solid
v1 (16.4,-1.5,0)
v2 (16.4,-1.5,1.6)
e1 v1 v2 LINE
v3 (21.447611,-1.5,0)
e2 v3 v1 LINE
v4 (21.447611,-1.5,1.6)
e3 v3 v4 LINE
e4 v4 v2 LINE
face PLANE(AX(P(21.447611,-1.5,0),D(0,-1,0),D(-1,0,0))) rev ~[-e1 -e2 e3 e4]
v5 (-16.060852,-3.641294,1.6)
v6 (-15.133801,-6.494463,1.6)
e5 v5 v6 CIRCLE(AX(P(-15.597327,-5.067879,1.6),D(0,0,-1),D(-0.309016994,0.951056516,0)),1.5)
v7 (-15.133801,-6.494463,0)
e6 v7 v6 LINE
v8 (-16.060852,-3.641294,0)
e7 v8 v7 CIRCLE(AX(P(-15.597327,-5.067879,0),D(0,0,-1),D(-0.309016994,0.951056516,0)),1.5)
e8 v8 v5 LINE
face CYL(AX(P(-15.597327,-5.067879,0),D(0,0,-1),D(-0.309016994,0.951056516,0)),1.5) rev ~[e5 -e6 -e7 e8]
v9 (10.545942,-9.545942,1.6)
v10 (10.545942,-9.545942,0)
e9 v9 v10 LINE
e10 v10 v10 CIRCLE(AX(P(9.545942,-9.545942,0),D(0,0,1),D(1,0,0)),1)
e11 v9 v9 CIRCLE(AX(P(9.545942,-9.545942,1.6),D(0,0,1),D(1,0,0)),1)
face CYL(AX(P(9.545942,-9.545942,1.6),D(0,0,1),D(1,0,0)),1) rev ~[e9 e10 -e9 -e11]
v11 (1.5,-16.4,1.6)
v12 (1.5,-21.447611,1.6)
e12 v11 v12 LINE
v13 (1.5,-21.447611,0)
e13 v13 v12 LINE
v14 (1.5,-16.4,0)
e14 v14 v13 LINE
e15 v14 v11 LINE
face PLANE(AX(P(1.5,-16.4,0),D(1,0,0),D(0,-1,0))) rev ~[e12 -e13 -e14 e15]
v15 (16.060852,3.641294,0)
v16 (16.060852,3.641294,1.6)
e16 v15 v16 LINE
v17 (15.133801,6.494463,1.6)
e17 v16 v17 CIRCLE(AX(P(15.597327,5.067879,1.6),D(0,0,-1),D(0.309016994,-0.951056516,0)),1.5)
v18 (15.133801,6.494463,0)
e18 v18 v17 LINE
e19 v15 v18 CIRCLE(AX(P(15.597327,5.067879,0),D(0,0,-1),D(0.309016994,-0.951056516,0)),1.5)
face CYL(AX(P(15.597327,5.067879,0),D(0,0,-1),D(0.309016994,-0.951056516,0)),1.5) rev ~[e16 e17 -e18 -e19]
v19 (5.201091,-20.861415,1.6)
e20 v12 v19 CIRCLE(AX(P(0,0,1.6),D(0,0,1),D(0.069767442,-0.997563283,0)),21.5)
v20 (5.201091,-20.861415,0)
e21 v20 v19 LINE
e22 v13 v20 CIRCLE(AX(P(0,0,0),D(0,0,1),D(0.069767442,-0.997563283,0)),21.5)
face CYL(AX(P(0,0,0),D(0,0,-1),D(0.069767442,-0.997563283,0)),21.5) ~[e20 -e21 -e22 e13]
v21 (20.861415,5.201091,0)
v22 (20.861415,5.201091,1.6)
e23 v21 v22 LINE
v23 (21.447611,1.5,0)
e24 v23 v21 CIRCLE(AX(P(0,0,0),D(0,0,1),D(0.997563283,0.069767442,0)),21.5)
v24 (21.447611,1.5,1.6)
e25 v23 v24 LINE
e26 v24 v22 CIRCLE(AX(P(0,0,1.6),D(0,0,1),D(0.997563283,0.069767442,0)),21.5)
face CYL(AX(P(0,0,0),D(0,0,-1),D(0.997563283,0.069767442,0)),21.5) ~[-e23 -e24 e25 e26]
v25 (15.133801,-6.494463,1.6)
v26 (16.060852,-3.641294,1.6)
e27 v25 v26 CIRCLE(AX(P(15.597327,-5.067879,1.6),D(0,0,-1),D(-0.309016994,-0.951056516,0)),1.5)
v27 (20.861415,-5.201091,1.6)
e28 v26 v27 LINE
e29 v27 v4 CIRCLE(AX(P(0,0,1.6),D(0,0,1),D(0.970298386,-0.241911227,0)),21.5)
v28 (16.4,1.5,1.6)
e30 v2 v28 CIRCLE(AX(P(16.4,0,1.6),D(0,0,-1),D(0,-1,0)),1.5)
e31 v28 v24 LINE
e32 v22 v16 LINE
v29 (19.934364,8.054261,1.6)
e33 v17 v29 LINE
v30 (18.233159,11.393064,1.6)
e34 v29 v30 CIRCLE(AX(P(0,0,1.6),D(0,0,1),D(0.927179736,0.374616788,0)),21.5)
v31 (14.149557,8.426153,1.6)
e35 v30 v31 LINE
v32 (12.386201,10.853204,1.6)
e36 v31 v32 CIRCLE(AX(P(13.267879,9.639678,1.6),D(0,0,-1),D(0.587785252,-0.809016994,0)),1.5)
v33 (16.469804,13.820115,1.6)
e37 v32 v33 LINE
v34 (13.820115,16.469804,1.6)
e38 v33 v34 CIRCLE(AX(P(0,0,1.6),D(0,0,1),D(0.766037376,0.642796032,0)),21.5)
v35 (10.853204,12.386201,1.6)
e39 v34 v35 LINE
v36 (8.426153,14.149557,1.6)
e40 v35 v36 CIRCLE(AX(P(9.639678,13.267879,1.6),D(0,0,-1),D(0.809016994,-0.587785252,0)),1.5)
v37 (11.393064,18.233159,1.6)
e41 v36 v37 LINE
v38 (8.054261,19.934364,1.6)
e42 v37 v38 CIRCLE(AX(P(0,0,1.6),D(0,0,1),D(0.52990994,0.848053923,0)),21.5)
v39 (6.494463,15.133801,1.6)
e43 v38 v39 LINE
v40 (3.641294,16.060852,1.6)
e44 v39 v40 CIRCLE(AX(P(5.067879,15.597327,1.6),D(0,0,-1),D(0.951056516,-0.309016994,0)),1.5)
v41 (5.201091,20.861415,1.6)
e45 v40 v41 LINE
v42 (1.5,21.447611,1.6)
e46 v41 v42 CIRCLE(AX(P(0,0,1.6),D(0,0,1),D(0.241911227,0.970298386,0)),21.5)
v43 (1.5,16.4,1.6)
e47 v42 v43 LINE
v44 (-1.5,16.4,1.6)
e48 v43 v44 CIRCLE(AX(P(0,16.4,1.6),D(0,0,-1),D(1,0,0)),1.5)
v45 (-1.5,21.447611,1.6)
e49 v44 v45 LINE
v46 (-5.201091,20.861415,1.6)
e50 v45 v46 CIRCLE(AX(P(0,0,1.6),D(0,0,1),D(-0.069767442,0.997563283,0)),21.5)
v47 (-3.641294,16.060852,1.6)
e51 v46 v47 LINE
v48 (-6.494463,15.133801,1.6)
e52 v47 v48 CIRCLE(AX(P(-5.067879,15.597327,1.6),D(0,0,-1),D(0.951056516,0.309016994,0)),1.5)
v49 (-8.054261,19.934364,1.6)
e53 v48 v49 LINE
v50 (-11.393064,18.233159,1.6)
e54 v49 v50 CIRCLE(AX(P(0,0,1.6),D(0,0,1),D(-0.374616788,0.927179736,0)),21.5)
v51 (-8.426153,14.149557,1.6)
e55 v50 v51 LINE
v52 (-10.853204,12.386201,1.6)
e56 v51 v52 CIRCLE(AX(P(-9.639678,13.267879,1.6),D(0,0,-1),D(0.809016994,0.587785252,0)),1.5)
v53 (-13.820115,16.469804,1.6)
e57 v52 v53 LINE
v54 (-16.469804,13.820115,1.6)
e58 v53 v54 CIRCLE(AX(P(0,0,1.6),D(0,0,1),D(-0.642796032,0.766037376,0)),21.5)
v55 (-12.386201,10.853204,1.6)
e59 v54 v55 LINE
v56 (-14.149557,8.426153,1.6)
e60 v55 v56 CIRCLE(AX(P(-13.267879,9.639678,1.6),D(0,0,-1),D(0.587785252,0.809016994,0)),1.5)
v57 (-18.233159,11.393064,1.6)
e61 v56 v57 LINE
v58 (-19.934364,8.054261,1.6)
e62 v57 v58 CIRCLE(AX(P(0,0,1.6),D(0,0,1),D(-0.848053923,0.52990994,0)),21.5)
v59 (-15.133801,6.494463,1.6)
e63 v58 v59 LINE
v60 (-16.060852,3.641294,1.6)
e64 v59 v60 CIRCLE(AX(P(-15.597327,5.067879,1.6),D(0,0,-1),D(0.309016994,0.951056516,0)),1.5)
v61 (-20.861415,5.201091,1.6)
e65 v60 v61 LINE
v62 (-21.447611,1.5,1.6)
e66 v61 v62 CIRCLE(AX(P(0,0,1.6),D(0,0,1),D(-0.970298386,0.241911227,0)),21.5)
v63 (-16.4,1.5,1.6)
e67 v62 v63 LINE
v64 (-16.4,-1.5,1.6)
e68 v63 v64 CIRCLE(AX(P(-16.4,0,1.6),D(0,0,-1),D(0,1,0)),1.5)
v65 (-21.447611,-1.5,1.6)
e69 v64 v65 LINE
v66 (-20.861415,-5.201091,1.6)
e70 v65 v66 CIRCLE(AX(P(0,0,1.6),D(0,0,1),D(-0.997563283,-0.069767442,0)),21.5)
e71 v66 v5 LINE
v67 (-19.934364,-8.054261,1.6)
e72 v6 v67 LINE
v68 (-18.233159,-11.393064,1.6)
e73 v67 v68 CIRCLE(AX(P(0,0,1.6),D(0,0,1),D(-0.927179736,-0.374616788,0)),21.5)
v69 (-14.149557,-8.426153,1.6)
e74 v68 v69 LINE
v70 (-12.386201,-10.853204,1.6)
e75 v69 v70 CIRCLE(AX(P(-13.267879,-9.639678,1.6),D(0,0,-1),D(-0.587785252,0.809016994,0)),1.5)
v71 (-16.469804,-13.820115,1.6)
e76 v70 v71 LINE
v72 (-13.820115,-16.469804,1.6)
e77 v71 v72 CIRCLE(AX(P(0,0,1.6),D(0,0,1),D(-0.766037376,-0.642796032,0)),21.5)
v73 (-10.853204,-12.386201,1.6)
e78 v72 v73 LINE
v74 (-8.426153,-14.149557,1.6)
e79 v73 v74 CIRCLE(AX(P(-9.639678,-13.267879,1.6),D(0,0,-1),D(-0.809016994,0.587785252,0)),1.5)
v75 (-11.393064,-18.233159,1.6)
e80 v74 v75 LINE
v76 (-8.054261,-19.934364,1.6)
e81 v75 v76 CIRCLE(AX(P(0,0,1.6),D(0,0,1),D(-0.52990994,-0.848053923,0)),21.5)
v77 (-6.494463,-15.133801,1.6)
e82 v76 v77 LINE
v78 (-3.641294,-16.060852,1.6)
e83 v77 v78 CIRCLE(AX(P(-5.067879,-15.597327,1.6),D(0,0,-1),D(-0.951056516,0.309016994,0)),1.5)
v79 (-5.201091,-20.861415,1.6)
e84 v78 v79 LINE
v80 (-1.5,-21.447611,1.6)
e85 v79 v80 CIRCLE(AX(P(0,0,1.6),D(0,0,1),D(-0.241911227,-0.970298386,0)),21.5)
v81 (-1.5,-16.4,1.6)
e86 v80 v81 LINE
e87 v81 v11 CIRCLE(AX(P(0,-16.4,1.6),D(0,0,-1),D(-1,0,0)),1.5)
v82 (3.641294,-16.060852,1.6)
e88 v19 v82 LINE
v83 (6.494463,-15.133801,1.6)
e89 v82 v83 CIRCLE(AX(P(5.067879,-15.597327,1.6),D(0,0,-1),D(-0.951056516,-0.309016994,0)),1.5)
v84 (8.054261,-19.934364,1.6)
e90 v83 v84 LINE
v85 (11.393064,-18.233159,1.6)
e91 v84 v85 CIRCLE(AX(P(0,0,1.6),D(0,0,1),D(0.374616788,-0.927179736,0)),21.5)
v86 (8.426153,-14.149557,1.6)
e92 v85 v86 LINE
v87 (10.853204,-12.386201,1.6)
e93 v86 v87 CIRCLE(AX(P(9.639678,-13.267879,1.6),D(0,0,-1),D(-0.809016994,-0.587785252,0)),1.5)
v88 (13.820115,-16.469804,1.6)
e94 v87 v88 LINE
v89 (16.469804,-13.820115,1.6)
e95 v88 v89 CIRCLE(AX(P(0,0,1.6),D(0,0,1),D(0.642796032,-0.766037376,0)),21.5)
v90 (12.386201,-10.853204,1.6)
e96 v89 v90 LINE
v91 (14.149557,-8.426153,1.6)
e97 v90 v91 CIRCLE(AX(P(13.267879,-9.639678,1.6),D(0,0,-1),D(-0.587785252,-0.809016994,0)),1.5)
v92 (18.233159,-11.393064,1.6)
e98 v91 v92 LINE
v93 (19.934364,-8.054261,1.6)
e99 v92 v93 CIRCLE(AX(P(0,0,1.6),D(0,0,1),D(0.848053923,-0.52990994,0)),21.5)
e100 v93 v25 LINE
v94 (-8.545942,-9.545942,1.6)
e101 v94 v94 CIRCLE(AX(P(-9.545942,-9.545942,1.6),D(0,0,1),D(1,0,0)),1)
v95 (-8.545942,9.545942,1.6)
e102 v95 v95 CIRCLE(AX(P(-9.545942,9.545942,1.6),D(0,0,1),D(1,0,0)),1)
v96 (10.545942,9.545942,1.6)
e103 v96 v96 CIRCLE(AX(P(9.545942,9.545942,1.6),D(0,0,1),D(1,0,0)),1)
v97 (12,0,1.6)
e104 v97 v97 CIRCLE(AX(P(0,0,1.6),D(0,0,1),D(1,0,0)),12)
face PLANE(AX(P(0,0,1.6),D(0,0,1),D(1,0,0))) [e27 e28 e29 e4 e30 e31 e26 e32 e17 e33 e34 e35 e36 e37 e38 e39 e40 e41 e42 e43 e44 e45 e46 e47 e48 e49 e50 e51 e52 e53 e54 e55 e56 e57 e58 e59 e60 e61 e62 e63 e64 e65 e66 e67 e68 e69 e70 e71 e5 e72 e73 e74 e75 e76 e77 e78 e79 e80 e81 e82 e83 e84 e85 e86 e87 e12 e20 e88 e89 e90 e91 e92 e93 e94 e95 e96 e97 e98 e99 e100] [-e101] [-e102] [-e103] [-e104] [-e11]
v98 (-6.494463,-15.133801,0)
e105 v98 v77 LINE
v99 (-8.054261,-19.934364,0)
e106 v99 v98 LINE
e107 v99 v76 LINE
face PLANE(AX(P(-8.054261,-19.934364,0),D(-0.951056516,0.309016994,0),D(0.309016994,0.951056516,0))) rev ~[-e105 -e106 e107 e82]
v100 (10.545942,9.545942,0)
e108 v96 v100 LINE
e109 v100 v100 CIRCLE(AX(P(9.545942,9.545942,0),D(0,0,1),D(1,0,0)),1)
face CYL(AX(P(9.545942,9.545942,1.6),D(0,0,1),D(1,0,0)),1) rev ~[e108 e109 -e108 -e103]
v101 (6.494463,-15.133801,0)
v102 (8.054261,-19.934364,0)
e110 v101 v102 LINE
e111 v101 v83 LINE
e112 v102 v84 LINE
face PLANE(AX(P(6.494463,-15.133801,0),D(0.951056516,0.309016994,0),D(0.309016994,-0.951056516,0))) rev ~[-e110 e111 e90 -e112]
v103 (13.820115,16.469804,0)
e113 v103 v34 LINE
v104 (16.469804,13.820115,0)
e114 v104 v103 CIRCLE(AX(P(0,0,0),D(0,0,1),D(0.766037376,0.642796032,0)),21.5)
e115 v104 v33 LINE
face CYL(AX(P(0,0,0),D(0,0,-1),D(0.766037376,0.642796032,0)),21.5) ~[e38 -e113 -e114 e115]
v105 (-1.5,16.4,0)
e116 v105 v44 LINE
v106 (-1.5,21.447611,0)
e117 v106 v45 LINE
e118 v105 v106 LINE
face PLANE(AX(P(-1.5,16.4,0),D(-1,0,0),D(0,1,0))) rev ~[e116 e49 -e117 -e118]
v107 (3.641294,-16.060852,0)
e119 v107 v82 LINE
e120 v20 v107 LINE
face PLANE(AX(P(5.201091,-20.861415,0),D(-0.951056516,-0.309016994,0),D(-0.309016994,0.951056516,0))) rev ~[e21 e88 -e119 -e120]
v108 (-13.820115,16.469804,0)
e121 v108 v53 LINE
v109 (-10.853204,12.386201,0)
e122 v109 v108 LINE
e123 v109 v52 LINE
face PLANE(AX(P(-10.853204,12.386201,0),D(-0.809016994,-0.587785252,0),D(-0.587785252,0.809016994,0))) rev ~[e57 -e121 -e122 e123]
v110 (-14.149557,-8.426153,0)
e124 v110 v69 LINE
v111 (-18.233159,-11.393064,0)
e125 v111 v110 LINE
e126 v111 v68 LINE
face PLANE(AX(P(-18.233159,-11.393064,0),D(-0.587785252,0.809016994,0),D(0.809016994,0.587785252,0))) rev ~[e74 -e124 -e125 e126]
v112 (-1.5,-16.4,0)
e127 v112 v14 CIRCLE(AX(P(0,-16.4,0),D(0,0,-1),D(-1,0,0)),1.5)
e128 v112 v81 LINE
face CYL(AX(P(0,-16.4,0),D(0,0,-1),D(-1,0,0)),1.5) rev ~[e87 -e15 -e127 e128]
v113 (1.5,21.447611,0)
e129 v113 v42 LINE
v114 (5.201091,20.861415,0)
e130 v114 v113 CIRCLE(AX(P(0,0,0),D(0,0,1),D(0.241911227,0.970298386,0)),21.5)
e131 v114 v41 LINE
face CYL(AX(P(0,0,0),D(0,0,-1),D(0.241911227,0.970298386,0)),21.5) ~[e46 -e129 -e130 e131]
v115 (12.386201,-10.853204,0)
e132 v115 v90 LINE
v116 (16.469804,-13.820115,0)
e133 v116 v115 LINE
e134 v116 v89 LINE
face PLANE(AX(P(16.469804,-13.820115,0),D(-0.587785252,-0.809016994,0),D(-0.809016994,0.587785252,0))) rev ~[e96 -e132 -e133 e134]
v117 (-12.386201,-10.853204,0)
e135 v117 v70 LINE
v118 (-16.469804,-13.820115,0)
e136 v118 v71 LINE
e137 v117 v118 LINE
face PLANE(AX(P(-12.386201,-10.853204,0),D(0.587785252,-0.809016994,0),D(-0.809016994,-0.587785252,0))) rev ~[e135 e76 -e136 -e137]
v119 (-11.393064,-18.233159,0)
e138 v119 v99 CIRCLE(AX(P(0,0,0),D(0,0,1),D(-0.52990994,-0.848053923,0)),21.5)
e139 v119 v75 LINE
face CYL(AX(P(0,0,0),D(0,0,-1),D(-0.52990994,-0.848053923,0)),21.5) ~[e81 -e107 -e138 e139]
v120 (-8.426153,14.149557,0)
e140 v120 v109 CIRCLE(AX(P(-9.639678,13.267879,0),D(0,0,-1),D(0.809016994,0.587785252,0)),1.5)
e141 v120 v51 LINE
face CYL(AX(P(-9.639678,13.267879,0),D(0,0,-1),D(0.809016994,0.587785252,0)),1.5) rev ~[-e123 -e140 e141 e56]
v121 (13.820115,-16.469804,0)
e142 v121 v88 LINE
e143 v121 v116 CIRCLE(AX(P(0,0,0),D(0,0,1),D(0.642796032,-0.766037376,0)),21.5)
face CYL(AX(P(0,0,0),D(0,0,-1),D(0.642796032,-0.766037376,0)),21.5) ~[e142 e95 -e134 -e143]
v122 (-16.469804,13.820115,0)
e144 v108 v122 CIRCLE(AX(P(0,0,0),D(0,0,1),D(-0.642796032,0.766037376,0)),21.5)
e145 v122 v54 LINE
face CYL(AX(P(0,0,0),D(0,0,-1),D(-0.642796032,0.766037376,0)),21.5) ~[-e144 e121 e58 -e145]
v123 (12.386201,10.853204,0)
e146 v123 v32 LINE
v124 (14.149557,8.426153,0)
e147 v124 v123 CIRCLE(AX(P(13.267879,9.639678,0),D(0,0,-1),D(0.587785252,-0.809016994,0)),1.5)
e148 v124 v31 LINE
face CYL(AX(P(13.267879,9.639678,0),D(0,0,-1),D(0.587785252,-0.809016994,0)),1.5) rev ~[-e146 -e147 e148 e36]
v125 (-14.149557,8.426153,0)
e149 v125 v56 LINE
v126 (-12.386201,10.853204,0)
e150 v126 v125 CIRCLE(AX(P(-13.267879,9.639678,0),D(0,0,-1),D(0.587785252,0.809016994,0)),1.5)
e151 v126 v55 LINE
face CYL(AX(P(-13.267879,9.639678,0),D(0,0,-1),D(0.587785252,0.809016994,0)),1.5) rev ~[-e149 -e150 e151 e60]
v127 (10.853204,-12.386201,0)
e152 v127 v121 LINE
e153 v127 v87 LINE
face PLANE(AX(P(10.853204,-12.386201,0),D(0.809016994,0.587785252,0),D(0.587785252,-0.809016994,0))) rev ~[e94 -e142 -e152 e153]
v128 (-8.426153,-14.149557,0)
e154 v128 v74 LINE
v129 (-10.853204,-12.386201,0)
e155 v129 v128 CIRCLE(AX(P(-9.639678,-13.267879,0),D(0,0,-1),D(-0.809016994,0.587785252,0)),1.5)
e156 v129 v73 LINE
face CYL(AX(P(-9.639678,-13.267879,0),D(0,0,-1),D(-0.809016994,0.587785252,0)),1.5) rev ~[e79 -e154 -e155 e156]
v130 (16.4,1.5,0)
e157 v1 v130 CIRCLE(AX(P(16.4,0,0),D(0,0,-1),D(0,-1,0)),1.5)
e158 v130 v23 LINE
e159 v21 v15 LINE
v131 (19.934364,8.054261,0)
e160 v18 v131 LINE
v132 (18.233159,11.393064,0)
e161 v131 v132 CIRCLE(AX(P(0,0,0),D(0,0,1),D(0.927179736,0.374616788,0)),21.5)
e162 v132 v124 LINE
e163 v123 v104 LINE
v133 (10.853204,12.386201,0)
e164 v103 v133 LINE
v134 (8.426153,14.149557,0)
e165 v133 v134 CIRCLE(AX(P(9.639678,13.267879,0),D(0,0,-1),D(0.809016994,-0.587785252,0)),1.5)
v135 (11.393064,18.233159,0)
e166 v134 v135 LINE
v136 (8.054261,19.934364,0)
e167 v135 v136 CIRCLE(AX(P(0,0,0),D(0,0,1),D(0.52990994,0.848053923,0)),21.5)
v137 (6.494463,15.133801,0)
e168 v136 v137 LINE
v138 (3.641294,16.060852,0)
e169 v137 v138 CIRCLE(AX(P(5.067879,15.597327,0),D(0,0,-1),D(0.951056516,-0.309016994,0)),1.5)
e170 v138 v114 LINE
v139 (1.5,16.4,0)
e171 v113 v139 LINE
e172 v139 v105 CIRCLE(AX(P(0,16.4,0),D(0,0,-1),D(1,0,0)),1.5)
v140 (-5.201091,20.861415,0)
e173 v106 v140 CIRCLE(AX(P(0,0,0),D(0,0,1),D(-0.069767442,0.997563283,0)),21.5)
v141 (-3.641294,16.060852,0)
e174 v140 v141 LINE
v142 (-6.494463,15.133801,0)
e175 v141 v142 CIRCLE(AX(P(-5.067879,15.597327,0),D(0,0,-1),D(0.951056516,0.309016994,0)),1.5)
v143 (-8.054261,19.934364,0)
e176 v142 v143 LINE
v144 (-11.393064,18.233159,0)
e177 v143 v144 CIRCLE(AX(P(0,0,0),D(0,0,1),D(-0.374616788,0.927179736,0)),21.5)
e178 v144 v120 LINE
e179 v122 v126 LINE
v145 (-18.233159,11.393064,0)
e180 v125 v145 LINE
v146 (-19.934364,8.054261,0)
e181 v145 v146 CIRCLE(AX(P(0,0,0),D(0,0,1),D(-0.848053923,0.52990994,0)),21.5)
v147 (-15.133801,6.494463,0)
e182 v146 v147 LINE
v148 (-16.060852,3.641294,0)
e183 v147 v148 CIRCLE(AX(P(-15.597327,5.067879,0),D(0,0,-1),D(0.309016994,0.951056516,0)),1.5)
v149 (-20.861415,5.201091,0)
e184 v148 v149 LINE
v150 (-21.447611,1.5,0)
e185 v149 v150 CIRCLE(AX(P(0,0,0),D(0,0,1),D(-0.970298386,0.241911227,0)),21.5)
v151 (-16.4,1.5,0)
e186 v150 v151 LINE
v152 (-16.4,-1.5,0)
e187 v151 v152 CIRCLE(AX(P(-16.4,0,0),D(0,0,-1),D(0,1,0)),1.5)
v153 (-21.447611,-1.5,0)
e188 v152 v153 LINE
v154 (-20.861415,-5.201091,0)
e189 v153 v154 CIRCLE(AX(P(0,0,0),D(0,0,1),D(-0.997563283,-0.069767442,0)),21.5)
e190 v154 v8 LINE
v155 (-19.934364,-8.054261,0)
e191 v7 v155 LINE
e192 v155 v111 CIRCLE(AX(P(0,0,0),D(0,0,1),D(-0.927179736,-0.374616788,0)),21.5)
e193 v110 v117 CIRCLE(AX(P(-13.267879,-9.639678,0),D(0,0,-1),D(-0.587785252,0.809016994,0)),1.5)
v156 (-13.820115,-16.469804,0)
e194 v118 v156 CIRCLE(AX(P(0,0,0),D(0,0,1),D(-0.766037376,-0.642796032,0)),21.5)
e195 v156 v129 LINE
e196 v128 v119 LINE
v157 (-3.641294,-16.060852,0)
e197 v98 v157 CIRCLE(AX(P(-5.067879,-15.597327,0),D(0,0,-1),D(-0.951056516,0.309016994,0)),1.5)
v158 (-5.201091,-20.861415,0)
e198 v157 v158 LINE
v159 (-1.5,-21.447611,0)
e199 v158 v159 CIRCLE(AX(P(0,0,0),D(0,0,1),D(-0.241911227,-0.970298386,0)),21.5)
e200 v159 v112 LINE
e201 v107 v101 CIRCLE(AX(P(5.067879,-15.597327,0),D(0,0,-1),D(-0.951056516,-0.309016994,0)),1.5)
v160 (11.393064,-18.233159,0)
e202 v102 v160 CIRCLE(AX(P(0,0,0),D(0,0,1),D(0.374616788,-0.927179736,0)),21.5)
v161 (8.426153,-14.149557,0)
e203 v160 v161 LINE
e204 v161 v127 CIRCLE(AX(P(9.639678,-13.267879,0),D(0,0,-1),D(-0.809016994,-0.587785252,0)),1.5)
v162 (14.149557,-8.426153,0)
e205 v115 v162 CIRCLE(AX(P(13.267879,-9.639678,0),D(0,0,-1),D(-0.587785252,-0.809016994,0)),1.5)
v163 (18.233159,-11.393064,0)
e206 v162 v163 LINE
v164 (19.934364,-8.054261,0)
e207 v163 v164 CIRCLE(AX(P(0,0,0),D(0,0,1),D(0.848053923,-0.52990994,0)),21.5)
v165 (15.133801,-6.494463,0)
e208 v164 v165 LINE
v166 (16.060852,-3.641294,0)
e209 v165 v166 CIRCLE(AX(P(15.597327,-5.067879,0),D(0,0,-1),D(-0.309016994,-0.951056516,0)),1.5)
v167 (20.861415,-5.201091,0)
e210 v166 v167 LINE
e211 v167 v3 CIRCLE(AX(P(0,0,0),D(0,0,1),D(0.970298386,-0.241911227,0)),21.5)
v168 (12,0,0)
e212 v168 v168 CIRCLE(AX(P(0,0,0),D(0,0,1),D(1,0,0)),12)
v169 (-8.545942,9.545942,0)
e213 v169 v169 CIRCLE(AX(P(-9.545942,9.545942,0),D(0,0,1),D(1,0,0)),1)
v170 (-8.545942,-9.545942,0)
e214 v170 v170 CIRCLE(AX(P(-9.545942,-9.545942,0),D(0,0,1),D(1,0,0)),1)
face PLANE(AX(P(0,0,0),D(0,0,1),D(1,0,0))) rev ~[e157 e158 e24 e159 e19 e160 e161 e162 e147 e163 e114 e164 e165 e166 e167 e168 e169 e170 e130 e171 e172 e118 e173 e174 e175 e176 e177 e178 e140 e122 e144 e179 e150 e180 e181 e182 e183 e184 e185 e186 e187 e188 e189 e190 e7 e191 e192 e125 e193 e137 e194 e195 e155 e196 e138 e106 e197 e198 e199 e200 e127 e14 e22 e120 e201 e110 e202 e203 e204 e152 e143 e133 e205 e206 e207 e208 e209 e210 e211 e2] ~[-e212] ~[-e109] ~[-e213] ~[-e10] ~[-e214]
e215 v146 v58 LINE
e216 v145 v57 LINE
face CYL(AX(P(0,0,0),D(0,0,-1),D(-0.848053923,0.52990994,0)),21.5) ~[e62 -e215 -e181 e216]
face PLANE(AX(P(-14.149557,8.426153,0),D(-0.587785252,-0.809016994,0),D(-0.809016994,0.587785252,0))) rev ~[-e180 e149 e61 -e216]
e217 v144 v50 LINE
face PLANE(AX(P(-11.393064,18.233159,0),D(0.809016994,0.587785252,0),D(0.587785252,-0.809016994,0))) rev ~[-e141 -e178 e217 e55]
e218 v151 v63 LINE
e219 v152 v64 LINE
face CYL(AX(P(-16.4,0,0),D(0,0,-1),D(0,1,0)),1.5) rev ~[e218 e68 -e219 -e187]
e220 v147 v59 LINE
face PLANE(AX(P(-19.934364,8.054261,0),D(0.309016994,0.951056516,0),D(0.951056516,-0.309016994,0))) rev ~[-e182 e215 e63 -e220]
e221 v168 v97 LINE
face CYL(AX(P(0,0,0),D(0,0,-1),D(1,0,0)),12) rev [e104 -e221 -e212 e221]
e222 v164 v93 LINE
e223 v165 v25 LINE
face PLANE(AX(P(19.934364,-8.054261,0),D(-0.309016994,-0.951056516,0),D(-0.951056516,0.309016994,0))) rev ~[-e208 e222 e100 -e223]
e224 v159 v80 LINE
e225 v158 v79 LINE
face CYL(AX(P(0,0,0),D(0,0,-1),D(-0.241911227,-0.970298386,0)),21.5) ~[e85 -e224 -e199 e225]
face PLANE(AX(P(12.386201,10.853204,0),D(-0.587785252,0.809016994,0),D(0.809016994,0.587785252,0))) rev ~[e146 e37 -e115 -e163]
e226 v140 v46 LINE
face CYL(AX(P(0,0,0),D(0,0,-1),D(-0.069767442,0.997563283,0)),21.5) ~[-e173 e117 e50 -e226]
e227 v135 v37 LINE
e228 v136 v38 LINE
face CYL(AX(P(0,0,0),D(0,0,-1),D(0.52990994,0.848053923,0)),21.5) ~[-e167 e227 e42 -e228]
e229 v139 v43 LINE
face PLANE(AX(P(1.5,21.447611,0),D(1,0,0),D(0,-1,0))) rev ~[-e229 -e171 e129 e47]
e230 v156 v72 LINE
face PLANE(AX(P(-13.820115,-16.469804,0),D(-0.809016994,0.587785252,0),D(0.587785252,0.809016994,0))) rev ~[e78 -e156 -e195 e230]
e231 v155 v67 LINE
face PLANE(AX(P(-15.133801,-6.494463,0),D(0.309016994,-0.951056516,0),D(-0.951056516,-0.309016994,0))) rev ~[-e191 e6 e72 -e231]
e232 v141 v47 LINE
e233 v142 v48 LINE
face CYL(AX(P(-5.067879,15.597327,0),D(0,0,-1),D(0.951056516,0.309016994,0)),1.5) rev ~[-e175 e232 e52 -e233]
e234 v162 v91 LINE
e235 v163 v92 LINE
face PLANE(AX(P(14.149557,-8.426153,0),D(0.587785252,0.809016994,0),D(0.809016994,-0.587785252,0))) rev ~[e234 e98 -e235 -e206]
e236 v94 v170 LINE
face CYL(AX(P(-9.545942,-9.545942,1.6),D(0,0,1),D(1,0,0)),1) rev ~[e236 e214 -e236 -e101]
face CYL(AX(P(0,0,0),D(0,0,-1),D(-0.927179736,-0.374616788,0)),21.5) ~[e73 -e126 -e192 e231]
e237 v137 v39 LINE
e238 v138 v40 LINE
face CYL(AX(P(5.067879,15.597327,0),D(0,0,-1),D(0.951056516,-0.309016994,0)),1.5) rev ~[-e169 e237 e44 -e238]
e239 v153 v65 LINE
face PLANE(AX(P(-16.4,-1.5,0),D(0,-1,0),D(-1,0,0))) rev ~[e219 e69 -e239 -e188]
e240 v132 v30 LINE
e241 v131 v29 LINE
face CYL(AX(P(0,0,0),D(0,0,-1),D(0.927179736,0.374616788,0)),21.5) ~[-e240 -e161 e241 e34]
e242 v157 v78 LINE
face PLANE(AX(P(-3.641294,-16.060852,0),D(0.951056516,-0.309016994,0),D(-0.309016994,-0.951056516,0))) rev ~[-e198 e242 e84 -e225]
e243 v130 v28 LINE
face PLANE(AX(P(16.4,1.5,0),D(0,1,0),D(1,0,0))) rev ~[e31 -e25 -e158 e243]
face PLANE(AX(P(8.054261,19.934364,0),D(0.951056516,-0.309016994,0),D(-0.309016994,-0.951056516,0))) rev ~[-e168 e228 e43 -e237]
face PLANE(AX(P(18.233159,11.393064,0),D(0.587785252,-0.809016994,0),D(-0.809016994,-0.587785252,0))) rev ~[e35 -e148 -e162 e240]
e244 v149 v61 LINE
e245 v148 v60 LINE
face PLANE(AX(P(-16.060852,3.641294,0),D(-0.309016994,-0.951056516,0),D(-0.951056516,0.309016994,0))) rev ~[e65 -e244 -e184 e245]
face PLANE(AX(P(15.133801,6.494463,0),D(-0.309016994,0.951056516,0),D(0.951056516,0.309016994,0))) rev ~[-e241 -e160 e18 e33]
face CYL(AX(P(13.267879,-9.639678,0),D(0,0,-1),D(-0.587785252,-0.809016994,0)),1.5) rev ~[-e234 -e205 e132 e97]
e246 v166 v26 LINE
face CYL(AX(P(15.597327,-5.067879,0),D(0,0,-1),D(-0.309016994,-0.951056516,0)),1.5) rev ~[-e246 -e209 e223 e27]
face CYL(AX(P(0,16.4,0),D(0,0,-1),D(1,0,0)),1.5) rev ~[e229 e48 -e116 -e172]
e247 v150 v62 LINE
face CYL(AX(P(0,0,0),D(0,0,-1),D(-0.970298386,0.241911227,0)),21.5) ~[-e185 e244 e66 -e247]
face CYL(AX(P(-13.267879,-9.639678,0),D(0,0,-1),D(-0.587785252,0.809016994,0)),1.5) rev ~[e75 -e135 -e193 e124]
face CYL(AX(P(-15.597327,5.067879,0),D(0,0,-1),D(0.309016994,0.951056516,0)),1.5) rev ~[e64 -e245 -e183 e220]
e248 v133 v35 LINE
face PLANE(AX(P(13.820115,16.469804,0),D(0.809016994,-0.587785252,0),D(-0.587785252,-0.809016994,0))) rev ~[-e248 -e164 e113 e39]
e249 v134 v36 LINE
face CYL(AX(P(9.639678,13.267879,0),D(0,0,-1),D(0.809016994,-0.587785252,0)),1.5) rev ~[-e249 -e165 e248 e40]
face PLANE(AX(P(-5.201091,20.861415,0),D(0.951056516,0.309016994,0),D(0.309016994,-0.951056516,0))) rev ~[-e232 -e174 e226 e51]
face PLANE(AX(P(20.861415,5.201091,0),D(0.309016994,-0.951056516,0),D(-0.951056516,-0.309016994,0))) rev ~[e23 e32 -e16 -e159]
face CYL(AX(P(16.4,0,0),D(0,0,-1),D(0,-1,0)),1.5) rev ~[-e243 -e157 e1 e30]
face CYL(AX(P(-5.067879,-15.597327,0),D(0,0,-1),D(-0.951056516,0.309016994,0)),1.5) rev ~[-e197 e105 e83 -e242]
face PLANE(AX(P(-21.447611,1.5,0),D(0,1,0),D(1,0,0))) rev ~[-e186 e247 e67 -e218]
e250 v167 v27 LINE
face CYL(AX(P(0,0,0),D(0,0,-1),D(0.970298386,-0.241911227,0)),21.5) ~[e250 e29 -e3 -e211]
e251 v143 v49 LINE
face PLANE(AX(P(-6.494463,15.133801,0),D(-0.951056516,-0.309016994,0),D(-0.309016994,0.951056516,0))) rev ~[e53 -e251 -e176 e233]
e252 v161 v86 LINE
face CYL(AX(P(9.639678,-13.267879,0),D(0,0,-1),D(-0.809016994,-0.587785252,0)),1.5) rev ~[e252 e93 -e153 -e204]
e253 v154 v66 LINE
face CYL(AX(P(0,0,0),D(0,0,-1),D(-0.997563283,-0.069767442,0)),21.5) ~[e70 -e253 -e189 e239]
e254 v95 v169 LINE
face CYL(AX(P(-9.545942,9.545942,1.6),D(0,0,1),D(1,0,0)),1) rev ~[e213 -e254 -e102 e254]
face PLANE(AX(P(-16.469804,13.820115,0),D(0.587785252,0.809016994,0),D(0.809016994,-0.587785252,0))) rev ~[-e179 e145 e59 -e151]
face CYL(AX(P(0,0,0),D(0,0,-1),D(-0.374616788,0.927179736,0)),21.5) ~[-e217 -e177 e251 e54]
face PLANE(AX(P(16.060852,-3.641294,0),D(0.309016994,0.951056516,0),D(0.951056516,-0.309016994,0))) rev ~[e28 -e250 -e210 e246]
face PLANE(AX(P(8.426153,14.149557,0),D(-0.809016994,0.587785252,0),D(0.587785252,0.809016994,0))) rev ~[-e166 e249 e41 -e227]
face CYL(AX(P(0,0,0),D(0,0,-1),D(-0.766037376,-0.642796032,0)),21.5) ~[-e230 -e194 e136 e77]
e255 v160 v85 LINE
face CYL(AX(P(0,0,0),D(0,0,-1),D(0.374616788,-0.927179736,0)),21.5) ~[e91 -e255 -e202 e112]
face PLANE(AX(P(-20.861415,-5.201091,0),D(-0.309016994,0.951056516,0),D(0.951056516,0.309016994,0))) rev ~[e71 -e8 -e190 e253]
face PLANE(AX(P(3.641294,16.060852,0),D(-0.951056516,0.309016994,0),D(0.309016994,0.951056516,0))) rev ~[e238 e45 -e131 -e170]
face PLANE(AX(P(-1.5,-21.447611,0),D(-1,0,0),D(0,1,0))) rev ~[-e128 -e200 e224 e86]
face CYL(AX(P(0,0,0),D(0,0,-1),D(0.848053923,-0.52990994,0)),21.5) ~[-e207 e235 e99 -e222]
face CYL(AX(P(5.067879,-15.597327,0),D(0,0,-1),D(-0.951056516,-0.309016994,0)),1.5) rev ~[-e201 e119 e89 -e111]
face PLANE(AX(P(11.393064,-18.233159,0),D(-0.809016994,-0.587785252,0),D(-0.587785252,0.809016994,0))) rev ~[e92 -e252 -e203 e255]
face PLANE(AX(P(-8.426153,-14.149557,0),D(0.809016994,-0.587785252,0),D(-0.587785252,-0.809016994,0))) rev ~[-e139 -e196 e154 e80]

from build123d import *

# Parameters (mm, degrees)
SKETCH1_R           = 12
SKETCH1_R_2         = 1
BOSS_EXTRUDE1_DEPTH = 1.6
SKETCH2_R           = 14.9
SKETCH2_R_2         = 12
BOSS_EXTRUDE2_DEPTH = 1.6
SKETCH3_R           = 1
CUT_EXTRUDE1_DEPTH  = 10


with BuildPart() as part:
    # Sketch1 → Boss-Extrude1 (new body)
    with BuildSketch(Plane.XY):
        with BuildLine():
            Line((-1.5, 16.4), (-1.5, 21.44761059))
            ThreePointArc((-1.5, 21.44761059), (-3.363340998, 21.235299323), (-5.201091386, 20.861415302))
            Line((-5.201091386, 20.861415302), (-3.641293933, 16.060852359))
            ThreePointArc((-3.641293933, 16.060852359), (-4.604353216, 14.170742093), (-6.494463482, 15.133801376))
            Line((-6.494463482, 15.133801376), (-8.054260935, 19.934364319))
            ThreePointArc((-8.054260935, 19.934364319), (-9.760795744, 19.15664027), (-11.39306371, 18.233159334))
            Line((-11.39306371, 18.233159334), (-8.426152646, 14.149556586))
            ThreePointArc((-8.426152646, 14.149556586), (-8.758000259, 12.054353216), (-10.853203629, 12.386200829))
            Line((-10.853203629, 12.386200829), (-13.820114693, 16.469803577))
            ThreePointArc((-13.820114693, 16.469803577), (-15.202795796, 15.202795796), (-16.469803577, 13.820114693))
            Line((-16.469803577, 13.820114693), (-12.386200829, 10.853203629))
            ThreePointArc((-12.386200829, 10.853203629), (-12.054353216, 8.758000259), (-14.149556586, 8.426152646))
            Line((-14.149556586, 8.426152646), (-18.233159334, 11.39306371))
            ThreePointArc((-18.233159334, 11.39306371), (-19.15664027, 9.760795744), (-19.934364319, 8.054260935))
            Line((-19.934364319, 8.054260935), (-15.133801376, 6.494463482))
            ThreePointArc((-15.133801376, 6.494463482), (-14.170742093, 4.604353216), (-16.060852359, 3.641293933))
            Line((-16.060852359, 3.641293933), (-20.861415302, 5.201091386))
            ThreePointArc((-20.861415302, 5.201091386), (-21.235299323, 3.363340998), (-21.44761059, 1.5))
            Line((-21.44761059, 1.5), (-16.4, 1.5))
            ThreePointArc((-16.4, 1.5), (-14.9, 0), (-16.4, -1.5))
            Line((-16.4, -1.5), (-21.44761059, -1.5))
            ThreePointArc((-21.44761059, -1.5), (-21.235299323, -3.363340998), (-20.861415302, -5.201091386))
            Line((-20.861415302, -5.201091386), (-16.060852359, -3.641293933))
            ThreePointArc((-16.060852359, -3.641293933), (-14.170742093, -4.604353216), (-15.133801376, -6.494463482))
            Line((-15.133801376, -6.494463482), (-19.934364319, -8.054260935))
            ThreePointArc((-19.934364319, -8.054260935), (-19.15664027, -9.760795744), (-18.233159334, -11.39306371))
            Line((-18.233159334, -11.39306371), (-14.149556586, -8.426152646))
            ThreePointArc((-14.149556586, -8.426152646), (-12.054353216, -8.758000259), (-12.386200829, -10.853203629))
            Line((-12.386200829, -10.853203629), (-16.469803577, -13.820114693))
            ThreePointArc((-16.469803577, -13.820114693), (-15.202795796, -15.202795796), (-13.820114693, -16.469803577))
            Line((-13.820114693, -16.469803577), (-10.853203629, -12.386200829))
            ThreePointArc((-10.853203629, -12.386200829), (-8.758000259, -12.054353216), (-8.426152646, -14.149556586))
            Line((-8.426152646, -14.149556586), (-11.39306371, -18.233159334))
            ThreePointArc((-11.39306371, -18.233159334), (-9.760795744, -19.15664027), (-8.054260935, -19.934364319))
            Line((-8.054260935, -19.934364319), (-6.494463482, -15.133801376))
            ThreePointArc((-6.494463482, -15.133801376), (-4.604353216, -14.170742093), (-3.641293933, -16.060852359))
            Line((-3.641293933, -16.060852359), (-5.201091386, -20.861415302))
            ThreePointArc((-5.201091386, -20.861415302), (-3.363340998, -21.235299323), (-1.5, -21.44761059))
            Line((-1.5, -21.44761059), (-1.5, -16.4))
            ThreePointArc((-1.5, -16.4), (0, -14.9), (1.5, -16.4))
            Line((1.5, -16.4), (1.5, -21.44761059))
            ThreePointArc((1.5, -21.44761059), (3.363340998, -21.235299323), (5.201091386, -20.861415302))
            Line((5.201091386, -20.861415302), (3.641293933, -16.060852359))
            ThreePointArc((3.641293933, -16.060852359), (4.604353216, -14.170742093), (6.494463482, -15.133801376))
            Line((6.494463482, -15.133801376), (8.054260935, -19.934364319))
            ThreePointArc((8.054260935, -19.934364319), (9.760795744, -19.15664027), (11.39306371, -18.233159334))
            Line((11.39306371, -18.233159334), (8.426152646, -14.149556586))
            ThreePointArc((8.426152646, -14.149556586), (8.758000259, -12.054353216), (10.853203629, -12.386200829))
            Line((10.853203629, -12.386200829), (13.820114693, -16.469803577))
            ThreePointArc((13.820114693, -16.469803577), (15.202795796, -15.202795796), (16.469803577, -13.820114693))
            Line((16.469803577, -13.820114693), (12.386200829, -10.853203629))
            ThreePointArc((12.386200829, -10.853203629), (12.054353216, -8.758000259), (14.149556586, -8.426152646))
            Line((14.149556586, -8.426152646), (18.233159334, -11.39306371))
            ThreePointArc((18.233159334, -11.39306371), (19.15664027, -9.760795744), (19.934364319, -8.054260935))
            Line((19.934364319, -8.054260935), (15.133801376, -6.494463482))
            ThreePointArc((15.133801376, -6.494463482), (14.170742093, -4.604353216), (16.060852359, -3.641293933))
            Line((16.060852359, -3.641293933), (20.861415302, -5.201091386))
            ThreePointArc((20.861415302, -5.201091386), (21.235299323, -3.363340998), (21.44761059, -1.5))
            Line((21.44761059, -1.5), (16.4, -1.5))
            ThreePointArc((16.4, -1.5), (14.9, 0), (16.4, 1.5))
            Line((16.4, 1.5), (21.44761059, 1.5))
            ThreePointArc((21.44761059, 1.5), (21.235299323, 3.363340998), (20.861415302, 5.201091386))
            Line((20.861415302, 5.201091386), (16.060852359, 3.641293933))
            ThreePointArc((16.060852359, 3.641293933), (14.170742093, 4.604353216), (15.133801376, 6.494463482))
            Line((15.133801376, 6.494463482), (19.934364319, 8.054260935))
            ThreePointArc((19.934364319, 8.054260935), (19.15664027, 9.760795744), (18.233159334, 11.39306371))
            Line((18.233159334, 11.39306371), (14.149556586, 8.426152646))
            ThreePointArc((14.149556586, 8.426152646), (12.054353216, 8.758000259), (12.386200829, 10.853203629))
            Line((12.386200829, 10.853203629), (16.469803577, 13.820114693))
            ThreePointArc((16.469803577, 13.820114693), (15.202795796, 15.202795796), (13.820114693, 16.469803577))
            Line((13.820114693, 16.469803577), (10.853203629, 12.386200829))
            ThreePointArc((10.853203629, 12.386200829), (8.758000259, 12.054353216), (8.426152646, 14.149556586))
            Line((8.426152646, 14.149556586), (11.39306371, 18.233159334))
            ThreePointArc((11.39306371, 18.233159334), (9.760795744, 19.15664027), (8.054260935, 19.934364319))
            Line((8.054260935, 19.934364319), (6.494463482, 15.133801376))
            ThreePointArc((6.494463482, 15.133801376), (4.604353216, 14.170742093), (3.641293933, 16.060852359))
            Line((3.641293933, 16.060852359), (5.201091386, 20.861415302))
            ThreePointArc((5.201091386, 20.861415302), (3.363340998, 21.235299323), (1.5, 21.44761059))
            Line((1.5, 21.44761059), (1.5, 16.4))
            ThreePointArc((1.5, 16.4), (0, 14.9), (-1.5, 16.4))
        make_face()
        Circle(SKETCH1_R, mode=Mode.SUBTRACT)
        with Locations((0, 13.5)):
            Circle(SKETCH1_R_2, mode=Mode.SUBTRACT)
        with Locations((13.5, 0)):
            Circle(SKETCH1_R_2, mode=Mode.SUBTRACT)
        with Locations((0, -13.5)):
            Circle(SKETCH1_R_2, mode=Mode.SUBTRACT)
        with Locations((-13.5, 0)):
            Circle(SKETCH1_R_2, mode=Mode.SUBTRACT)
    extrude(amount=BOSS_EXTRUDE1_DEPTH)

    # Sketch2 → Boss-Extrude2 (add)
    with BuildSketch(Plane.XY.offset(1.6)):
        Circle(SKETCH2_R)
        Circle(SKETCH2_R_2, mode=Mode.SUBTRACT)
    extrude(amount=-BOSS_EXTRUDE2_DEPTH)

    # Sketch3 → Cut-Extrude1 (cut)
    with BuildSketch(Plane.XY.offset(1.6)):
        with Locations((9.545941546, 9.545941546)):
            Circle(SKETCH3_R)
        with Locations((9.545941546, -9.545941546)):
            Circle(SKETCH3_R)
        with Locations((-9.545941546, -9.545941546)):
            Circle(SKETCH3_R)
        with Locations((-9.545941546, 9.545941546)):
            Circle(SKETCH3_R)
    extrude(amount=-CUT_EXTRUDE1_DEPTH, mode=Mode.SUBTRACT)


solid = part.part
